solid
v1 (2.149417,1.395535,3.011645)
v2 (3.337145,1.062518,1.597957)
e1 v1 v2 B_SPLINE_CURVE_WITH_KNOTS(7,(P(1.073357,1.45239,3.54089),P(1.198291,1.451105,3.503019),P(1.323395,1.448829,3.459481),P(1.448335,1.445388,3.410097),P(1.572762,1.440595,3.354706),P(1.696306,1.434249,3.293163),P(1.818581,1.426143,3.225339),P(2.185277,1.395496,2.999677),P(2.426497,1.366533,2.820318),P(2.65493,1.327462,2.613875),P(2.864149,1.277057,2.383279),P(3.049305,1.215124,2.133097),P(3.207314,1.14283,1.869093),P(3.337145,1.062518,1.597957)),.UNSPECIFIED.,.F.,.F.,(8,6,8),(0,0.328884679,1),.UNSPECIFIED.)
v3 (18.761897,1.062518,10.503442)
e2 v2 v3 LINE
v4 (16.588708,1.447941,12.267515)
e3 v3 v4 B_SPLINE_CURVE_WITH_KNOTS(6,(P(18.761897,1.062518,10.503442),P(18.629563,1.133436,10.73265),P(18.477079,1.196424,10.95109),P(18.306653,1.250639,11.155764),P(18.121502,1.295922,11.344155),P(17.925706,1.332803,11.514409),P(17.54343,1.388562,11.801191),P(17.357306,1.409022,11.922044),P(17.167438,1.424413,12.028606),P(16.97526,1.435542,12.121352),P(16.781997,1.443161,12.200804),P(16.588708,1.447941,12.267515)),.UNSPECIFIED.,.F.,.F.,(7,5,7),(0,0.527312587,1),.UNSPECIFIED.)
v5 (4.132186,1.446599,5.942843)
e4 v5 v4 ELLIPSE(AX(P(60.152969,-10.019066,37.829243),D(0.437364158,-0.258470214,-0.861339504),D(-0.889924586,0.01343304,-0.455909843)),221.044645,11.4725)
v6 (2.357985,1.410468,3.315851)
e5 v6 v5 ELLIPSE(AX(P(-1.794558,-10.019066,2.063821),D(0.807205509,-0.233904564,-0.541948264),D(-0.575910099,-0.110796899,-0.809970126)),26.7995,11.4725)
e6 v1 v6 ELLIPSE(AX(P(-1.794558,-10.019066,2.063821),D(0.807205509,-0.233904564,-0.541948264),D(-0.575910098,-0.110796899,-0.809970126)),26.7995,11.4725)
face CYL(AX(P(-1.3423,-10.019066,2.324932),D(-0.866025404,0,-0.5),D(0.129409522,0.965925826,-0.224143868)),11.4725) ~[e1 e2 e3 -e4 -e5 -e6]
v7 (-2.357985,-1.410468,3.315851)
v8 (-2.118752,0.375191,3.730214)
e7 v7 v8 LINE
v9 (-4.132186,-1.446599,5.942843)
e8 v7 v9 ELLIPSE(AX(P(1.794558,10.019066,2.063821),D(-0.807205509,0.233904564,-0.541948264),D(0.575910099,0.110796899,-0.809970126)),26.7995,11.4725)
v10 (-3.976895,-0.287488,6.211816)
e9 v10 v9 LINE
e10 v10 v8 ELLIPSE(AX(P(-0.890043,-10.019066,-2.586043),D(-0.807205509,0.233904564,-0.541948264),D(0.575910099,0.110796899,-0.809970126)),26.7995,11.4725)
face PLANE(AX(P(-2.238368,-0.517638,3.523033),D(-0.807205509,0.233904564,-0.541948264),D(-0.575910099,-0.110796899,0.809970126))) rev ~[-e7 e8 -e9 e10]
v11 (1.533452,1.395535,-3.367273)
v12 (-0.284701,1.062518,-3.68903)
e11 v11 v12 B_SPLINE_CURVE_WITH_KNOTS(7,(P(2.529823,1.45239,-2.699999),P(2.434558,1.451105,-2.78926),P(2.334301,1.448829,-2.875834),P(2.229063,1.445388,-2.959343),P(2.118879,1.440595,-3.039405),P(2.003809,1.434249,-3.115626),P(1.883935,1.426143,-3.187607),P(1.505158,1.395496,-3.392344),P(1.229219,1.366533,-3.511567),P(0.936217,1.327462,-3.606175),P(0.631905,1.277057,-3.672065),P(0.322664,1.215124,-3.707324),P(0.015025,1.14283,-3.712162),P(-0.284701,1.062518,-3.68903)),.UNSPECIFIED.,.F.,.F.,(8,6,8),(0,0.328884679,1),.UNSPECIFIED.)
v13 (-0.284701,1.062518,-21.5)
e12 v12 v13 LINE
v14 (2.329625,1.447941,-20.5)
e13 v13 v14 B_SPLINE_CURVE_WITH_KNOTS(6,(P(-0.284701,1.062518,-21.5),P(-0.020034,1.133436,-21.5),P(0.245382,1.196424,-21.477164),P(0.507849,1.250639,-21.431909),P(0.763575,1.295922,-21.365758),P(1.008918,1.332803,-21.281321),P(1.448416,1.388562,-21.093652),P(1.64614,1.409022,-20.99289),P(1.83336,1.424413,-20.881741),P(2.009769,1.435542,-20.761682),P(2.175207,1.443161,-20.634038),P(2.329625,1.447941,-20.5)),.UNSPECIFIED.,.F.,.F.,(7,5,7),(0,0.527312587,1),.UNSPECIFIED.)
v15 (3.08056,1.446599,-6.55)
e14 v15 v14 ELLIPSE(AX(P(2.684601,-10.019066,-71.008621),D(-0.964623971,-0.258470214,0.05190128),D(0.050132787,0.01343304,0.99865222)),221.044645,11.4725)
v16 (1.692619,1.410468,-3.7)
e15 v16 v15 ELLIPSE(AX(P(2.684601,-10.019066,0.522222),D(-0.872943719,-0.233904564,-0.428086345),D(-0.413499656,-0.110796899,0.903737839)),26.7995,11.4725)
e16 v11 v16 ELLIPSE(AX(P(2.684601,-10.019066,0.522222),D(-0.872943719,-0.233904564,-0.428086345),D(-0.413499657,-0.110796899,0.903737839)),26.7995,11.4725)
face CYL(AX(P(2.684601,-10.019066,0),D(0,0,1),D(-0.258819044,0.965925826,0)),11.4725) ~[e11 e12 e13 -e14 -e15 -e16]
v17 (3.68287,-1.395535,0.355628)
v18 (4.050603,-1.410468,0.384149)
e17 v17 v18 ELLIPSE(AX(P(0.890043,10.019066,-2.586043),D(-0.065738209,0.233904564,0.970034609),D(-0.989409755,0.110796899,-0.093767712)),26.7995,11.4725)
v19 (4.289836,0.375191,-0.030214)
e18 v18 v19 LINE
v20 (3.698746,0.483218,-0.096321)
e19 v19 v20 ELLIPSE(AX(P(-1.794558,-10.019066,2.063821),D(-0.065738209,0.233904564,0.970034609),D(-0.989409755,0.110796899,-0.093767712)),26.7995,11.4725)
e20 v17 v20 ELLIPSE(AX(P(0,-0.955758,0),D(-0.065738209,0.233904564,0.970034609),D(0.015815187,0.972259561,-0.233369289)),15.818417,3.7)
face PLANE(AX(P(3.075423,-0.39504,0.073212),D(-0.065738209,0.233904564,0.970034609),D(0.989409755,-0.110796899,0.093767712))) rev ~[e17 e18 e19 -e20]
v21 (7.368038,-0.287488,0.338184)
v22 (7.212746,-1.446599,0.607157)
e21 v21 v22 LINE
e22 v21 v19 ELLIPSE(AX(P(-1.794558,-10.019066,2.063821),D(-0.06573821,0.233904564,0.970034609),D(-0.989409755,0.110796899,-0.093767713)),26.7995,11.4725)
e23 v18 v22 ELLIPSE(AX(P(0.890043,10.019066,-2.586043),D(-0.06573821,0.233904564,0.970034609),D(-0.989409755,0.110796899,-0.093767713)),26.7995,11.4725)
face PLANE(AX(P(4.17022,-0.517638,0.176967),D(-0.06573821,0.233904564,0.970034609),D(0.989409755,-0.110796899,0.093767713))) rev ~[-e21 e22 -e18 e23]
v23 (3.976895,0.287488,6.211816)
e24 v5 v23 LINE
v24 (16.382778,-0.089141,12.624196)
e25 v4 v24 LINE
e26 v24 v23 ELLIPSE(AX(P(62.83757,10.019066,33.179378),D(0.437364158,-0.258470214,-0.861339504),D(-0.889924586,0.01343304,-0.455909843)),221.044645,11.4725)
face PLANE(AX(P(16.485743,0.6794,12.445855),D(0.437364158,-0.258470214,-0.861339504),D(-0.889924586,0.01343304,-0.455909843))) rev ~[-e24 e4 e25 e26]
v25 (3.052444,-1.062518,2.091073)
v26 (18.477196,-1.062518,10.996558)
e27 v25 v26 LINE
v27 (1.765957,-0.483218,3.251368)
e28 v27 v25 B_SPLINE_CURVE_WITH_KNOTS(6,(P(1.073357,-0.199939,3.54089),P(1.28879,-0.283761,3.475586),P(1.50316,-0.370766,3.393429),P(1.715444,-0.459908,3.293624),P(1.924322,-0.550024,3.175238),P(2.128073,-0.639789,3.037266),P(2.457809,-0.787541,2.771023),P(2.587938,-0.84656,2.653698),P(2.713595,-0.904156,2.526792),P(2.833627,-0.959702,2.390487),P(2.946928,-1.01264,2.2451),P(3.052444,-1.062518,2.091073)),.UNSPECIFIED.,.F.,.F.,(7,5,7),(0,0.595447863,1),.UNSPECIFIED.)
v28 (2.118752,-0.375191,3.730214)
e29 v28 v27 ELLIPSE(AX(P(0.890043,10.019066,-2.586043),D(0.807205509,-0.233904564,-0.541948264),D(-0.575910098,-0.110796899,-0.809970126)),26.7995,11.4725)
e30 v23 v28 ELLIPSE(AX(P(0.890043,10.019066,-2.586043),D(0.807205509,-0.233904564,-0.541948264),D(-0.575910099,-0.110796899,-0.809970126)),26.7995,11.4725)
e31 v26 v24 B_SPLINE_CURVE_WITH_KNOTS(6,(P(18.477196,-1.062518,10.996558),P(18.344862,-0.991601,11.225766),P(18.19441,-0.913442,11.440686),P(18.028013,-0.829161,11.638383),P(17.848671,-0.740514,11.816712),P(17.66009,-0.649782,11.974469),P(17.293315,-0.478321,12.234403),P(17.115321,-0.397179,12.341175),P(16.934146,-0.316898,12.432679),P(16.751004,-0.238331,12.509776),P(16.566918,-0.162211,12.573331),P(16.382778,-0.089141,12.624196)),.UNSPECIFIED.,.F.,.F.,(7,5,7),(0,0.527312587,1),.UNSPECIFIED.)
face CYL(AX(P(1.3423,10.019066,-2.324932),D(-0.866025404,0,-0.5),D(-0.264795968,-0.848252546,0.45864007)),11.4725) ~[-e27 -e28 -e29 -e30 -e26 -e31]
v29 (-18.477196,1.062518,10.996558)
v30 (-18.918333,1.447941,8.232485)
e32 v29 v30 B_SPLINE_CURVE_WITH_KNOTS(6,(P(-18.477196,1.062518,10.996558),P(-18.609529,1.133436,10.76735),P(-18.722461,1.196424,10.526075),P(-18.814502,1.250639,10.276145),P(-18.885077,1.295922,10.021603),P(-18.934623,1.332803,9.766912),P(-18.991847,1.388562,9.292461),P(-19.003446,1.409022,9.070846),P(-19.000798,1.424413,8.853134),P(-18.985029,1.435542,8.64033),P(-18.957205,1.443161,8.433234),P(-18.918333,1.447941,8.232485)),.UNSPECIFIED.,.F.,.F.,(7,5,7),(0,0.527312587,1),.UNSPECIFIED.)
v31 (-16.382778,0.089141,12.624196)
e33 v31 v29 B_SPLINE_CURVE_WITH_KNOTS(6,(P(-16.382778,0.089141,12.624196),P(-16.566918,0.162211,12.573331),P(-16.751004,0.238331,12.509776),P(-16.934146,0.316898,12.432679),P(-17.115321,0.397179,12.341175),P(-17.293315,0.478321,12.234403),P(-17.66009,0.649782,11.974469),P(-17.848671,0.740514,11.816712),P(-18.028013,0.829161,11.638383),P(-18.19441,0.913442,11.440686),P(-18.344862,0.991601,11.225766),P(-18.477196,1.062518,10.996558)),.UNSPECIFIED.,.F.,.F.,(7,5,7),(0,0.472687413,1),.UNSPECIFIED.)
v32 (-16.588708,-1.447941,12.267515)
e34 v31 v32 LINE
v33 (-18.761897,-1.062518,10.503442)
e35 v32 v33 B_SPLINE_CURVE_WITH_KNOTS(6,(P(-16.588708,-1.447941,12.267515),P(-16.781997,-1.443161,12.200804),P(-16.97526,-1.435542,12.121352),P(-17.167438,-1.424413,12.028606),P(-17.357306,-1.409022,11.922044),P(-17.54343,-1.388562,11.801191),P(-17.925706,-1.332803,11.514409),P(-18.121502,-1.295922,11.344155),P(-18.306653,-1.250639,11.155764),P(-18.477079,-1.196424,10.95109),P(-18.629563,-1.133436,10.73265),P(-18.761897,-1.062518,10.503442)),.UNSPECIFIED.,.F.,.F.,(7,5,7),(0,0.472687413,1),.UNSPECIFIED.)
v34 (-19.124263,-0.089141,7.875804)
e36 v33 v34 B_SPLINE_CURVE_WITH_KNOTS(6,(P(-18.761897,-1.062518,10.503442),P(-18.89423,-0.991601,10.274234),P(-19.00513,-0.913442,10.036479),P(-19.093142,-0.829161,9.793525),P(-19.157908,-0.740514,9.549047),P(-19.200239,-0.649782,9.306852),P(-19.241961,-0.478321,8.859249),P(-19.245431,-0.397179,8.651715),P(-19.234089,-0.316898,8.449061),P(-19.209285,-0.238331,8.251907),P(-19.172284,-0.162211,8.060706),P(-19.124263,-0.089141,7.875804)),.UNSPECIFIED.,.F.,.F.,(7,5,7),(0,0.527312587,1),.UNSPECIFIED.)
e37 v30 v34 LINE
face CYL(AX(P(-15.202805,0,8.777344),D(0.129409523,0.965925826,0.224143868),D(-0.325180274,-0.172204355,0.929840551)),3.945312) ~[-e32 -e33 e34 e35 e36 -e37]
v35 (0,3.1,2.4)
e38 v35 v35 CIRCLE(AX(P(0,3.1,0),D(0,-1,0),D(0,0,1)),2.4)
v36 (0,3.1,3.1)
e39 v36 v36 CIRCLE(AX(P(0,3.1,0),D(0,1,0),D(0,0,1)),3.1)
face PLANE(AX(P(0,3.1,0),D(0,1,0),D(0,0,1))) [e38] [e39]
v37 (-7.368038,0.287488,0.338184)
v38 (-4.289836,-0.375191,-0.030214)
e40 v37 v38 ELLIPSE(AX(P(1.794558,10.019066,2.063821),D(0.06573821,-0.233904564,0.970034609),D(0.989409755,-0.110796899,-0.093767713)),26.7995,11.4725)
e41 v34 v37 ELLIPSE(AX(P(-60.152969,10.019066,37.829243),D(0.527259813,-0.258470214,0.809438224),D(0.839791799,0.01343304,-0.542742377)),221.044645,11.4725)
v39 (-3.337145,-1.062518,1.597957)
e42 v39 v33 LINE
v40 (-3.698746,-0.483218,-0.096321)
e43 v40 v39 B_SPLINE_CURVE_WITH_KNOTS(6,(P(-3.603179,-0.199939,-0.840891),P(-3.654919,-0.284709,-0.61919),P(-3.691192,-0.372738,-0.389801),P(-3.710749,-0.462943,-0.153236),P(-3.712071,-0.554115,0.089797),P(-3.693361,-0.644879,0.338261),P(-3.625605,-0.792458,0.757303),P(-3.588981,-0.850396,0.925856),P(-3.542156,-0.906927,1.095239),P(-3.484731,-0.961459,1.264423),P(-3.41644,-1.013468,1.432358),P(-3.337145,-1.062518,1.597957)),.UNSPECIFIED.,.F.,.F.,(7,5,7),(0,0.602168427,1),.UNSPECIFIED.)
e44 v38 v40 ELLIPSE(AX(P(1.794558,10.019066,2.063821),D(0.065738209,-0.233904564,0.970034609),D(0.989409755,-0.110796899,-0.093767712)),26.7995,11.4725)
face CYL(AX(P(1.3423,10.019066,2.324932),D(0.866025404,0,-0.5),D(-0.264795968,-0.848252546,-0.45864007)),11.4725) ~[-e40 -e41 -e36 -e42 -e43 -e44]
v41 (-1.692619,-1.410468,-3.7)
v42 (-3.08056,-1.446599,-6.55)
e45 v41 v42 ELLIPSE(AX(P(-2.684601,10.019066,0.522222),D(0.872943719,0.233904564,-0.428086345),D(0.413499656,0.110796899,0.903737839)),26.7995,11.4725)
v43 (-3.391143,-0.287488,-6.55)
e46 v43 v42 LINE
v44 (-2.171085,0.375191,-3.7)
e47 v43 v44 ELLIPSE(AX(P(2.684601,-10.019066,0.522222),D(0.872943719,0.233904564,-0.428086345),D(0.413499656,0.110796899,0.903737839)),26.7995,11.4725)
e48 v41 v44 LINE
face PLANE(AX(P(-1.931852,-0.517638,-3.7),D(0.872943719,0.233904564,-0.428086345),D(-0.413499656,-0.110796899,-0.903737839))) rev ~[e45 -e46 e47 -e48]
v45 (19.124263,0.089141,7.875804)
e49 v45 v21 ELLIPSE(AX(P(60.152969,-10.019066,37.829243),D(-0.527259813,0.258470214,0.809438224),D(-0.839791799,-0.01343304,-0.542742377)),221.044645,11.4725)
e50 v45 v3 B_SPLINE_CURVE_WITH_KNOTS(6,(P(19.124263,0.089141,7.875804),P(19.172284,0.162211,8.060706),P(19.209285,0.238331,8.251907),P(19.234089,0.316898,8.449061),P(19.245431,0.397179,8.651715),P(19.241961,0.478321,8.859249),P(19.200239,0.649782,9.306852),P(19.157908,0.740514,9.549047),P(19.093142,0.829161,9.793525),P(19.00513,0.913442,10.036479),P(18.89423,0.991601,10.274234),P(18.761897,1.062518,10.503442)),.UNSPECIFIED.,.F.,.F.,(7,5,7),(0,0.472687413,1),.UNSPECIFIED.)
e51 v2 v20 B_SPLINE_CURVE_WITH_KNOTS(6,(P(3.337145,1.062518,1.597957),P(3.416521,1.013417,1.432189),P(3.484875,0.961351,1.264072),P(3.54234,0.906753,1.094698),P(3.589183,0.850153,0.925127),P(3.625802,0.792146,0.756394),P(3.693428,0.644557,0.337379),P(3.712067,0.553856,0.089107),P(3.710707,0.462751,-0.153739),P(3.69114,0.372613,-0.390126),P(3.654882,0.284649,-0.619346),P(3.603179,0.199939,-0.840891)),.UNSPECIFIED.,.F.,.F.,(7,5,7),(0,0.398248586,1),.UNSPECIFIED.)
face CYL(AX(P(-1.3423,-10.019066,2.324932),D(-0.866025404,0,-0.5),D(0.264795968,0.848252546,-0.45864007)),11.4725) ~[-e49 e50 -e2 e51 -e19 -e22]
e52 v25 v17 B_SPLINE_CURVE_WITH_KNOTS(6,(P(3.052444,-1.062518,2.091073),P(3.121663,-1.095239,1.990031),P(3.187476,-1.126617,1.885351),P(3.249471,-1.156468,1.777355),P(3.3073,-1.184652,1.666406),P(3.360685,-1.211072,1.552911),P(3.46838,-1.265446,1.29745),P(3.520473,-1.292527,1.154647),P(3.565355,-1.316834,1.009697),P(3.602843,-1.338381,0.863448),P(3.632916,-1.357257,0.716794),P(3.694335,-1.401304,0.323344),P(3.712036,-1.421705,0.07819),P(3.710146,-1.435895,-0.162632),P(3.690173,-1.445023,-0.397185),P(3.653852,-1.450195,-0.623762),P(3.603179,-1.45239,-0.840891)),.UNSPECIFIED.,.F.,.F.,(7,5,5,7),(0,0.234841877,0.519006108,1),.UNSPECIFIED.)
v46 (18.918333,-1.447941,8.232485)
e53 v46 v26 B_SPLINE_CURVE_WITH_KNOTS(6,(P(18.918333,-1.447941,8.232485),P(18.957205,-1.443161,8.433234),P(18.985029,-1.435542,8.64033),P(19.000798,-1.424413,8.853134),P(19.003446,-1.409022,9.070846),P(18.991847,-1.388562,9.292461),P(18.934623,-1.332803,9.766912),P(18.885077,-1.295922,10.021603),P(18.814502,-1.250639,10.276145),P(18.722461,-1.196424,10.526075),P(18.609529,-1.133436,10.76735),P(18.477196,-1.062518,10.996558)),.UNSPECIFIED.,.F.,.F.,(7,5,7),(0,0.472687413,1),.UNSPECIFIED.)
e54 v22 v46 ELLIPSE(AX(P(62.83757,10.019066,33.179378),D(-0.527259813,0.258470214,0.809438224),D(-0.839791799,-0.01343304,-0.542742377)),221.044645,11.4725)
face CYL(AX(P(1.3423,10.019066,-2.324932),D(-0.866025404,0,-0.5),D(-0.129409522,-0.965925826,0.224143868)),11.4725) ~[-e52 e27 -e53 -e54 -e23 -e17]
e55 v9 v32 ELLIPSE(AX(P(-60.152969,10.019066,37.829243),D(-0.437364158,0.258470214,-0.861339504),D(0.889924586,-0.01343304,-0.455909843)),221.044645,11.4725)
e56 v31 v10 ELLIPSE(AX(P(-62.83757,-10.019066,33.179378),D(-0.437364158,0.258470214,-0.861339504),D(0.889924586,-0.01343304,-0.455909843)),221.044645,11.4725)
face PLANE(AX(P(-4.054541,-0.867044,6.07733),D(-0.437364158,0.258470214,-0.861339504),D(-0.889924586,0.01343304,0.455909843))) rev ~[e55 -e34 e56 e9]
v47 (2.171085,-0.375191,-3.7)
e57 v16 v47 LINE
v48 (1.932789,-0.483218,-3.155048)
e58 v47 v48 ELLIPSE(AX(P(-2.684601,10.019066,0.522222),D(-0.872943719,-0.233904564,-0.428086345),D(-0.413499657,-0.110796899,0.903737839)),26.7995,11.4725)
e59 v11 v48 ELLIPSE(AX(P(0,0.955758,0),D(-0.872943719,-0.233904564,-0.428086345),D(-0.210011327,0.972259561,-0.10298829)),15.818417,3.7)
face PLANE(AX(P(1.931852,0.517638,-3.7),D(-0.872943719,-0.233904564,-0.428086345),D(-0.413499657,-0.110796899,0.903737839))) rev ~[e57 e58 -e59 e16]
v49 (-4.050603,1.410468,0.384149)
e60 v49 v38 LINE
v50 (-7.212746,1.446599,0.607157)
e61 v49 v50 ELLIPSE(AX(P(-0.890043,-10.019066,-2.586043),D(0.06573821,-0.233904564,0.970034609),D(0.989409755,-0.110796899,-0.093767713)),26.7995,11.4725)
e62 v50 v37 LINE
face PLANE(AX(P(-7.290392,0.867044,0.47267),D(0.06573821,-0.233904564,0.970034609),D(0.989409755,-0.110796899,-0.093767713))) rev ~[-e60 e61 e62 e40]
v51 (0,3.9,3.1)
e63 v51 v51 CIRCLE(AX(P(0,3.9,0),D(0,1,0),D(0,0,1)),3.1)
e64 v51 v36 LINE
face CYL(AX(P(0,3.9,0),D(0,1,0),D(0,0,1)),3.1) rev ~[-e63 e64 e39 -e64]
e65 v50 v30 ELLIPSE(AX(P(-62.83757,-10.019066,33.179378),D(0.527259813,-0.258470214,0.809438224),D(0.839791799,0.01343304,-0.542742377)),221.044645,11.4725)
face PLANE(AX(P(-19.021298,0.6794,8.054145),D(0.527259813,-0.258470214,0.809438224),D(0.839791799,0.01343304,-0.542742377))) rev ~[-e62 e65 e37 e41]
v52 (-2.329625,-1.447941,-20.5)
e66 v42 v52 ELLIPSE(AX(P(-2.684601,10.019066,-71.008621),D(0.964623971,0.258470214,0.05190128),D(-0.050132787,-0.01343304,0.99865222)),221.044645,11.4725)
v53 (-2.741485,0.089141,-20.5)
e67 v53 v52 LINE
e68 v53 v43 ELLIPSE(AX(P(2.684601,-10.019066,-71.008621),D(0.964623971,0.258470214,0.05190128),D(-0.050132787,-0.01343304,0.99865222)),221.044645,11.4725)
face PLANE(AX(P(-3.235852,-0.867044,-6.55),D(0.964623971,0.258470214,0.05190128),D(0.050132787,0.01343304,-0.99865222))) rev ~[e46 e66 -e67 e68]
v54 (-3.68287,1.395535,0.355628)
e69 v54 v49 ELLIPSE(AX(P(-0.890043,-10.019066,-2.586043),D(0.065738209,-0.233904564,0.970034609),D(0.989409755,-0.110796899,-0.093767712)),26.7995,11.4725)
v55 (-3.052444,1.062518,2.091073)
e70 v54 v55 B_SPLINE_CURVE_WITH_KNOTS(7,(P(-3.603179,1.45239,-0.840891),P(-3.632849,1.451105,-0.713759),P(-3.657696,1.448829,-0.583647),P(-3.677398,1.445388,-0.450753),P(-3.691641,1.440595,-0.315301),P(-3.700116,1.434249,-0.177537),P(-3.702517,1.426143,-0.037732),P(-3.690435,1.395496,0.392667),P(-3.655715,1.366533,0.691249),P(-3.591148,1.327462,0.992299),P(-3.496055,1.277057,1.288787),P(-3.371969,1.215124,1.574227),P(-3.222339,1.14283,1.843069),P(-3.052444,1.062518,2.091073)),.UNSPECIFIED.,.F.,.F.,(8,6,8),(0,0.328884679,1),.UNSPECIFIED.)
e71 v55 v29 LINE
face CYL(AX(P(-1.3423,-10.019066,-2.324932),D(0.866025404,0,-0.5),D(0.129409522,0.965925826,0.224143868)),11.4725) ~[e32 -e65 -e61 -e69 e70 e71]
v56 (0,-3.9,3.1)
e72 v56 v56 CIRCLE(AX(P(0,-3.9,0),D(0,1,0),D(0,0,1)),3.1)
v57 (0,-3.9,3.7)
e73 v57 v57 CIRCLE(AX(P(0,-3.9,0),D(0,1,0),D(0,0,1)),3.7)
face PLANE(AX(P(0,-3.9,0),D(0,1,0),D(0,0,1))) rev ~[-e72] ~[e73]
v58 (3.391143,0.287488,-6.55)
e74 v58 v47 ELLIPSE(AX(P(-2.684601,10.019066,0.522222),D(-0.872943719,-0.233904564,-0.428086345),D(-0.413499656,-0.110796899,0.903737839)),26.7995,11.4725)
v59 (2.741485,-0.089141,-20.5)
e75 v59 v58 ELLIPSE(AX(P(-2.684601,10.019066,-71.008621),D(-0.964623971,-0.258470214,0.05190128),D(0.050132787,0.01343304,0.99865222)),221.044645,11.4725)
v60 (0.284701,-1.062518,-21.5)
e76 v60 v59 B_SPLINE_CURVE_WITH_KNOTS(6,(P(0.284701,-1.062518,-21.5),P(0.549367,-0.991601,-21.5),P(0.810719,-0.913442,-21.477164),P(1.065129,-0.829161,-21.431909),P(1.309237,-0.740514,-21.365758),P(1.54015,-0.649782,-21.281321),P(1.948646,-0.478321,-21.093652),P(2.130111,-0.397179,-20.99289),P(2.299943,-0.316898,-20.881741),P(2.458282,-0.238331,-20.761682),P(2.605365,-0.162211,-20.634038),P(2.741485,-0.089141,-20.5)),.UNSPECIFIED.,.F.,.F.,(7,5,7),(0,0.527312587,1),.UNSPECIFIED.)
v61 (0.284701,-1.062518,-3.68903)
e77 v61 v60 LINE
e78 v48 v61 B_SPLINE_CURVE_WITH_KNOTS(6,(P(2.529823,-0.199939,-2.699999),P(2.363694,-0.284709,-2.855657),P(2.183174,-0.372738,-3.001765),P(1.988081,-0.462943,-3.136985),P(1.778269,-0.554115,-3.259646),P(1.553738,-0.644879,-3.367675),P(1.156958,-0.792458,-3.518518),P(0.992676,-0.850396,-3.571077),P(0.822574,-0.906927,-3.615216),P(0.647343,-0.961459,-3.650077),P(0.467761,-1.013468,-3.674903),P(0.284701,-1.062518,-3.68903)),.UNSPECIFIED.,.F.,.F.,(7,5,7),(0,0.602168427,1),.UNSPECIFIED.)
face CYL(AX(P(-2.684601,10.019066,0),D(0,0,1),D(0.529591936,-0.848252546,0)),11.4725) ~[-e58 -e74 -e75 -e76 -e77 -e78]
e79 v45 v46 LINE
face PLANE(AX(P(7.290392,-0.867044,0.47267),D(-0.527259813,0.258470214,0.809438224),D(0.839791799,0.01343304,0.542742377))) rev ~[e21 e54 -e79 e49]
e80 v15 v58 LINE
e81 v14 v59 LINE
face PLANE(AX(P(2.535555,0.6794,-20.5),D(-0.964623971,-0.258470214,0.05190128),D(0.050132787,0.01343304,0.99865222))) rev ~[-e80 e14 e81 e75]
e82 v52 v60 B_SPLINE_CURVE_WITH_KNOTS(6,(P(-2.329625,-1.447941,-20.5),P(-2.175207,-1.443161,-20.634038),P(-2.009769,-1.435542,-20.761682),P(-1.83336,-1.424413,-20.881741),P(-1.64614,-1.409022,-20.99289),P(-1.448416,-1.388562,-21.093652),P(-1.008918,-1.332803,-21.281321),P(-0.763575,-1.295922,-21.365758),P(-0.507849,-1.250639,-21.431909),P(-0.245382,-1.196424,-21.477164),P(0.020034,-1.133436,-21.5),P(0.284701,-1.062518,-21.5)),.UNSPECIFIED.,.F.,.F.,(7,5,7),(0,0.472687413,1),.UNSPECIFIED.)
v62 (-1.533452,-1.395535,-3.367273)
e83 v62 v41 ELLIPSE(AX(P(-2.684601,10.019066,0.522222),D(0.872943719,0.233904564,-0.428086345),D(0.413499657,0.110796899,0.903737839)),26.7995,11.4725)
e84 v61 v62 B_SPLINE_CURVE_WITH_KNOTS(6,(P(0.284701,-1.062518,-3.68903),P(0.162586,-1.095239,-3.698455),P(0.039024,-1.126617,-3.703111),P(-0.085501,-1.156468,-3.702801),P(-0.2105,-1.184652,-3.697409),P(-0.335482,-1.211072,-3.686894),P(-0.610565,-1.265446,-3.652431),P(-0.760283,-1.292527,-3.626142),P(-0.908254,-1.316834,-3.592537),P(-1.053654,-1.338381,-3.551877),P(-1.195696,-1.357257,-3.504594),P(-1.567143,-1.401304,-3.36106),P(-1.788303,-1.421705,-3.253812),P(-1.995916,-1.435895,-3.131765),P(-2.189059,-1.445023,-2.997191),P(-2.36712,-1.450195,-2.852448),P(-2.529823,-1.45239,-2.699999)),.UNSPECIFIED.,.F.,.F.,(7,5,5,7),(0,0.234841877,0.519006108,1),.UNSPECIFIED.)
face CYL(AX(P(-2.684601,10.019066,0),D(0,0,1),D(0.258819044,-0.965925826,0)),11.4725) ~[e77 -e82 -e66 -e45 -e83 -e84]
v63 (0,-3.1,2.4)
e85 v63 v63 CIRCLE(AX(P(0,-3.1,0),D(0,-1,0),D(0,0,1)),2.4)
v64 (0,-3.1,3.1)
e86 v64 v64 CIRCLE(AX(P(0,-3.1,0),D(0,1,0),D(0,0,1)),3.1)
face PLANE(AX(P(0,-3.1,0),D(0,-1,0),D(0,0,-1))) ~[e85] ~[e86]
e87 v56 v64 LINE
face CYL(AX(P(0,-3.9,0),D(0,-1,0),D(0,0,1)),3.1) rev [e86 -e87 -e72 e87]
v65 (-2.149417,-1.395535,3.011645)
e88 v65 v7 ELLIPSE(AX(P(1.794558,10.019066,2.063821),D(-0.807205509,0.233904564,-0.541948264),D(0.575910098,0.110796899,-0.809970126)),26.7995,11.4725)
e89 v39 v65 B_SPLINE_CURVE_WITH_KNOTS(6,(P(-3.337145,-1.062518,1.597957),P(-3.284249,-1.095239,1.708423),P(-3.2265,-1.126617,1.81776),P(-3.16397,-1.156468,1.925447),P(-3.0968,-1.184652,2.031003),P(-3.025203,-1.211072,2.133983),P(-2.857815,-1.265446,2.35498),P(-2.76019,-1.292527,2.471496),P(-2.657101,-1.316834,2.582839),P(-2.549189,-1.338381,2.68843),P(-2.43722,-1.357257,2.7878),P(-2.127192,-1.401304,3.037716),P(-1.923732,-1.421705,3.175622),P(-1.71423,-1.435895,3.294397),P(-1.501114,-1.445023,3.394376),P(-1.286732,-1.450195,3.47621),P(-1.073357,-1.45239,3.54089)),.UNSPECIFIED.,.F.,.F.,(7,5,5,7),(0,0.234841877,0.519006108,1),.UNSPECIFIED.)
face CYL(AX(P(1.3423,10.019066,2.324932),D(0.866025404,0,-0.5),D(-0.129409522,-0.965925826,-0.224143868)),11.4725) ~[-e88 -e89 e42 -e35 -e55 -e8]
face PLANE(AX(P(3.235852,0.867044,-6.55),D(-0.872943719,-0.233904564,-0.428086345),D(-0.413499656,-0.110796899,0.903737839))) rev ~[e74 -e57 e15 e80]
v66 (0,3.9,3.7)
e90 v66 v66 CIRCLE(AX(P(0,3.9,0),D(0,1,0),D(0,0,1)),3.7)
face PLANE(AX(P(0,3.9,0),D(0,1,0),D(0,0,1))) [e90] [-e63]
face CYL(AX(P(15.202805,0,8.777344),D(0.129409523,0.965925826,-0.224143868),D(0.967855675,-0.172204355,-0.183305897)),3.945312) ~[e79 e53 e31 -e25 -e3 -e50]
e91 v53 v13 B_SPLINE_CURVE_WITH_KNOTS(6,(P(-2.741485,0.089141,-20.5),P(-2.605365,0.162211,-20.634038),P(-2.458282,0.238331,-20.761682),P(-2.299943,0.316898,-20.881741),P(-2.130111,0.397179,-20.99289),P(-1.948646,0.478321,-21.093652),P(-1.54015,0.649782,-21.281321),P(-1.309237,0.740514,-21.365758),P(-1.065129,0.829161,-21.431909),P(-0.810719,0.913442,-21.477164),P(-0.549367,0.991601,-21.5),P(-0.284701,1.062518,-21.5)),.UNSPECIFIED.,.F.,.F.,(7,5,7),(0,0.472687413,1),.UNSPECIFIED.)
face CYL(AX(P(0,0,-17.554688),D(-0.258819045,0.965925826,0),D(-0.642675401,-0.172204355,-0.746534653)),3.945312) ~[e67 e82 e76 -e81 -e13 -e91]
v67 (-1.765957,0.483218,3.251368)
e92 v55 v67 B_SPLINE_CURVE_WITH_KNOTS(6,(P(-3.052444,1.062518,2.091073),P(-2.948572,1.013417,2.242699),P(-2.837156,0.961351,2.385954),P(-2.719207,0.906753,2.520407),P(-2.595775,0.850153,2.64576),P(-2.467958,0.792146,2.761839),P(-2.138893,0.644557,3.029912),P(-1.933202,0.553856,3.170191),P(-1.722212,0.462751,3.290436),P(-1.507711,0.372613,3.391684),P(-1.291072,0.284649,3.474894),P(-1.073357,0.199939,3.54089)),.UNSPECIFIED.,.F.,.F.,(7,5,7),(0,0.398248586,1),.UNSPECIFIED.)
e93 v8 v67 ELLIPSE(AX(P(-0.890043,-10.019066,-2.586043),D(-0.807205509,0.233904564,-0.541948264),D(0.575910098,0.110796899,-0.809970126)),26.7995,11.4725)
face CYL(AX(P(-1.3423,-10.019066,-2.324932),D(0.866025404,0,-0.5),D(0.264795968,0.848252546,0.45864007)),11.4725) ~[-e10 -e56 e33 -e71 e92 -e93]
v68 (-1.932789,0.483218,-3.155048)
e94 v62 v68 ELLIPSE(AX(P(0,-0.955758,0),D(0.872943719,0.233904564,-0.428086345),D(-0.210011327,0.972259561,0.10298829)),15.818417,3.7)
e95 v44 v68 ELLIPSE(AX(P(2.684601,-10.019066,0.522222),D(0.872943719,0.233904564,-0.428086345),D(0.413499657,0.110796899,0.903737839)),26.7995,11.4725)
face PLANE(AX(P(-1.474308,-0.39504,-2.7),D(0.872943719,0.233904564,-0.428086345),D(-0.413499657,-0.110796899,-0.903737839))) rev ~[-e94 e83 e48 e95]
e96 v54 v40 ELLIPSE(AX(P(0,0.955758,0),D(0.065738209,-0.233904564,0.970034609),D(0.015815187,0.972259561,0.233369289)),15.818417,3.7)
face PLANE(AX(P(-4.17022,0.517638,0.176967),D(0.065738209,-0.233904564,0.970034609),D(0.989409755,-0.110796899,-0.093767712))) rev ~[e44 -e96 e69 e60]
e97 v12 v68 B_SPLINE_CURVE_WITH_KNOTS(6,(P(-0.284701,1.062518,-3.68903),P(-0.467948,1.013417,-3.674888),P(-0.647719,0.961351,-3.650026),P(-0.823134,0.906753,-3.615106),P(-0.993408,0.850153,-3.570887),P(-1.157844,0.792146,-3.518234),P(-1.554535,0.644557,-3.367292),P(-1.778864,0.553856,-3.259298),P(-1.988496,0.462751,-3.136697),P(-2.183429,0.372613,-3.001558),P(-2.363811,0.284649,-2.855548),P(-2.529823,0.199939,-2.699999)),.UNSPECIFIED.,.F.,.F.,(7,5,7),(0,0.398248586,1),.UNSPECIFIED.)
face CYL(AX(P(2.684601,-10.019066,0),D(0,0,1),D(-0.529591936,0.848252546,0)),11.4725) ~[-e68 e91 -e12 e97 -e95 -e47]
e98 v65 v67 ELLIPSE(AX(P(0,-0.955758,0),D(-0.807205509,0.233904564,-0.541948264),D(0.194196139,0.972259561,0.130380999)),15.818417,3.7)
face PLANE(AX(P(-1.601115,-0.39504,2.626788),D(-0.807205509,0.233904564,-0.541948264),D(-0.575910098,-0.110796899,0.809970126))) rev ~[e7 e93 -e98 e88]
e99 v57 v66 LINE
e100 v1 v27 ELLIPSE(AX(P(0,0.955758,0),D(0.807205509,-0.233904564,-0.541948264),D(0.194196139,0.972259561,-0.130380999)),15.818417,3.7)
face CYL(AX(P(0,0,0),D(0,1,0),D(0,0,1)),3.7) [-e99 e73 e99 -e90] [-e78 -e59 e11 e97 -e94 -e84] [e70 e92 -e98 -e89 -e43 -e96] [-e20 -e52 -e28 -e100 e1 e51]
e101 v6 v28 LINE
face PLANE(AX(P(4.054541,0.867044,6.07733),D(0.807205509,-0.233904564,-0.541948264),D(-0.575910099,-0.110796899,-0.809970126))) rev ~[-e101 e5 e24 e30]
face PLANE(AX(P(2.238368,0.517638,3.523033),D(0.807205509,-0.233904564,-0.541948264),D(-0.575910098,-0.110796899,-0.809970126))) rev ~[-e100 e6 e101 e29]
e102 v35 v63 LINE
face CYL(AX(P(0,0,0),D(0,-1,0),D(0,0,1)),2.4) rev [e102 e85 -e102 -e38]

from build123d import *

# Parameters (mm, degrees)
SKETCH1_R             = 3.7
SKETCH1_R_2           = 2.4
HUB_DEPTH             = 3.9
SKETCH2_R             = 3.1
RIM_CUT_DEPTH         = 0.8
BLADE_DEPTH           = 1.1
BLADE_CURVE_DEPTH     = 23.16190425
BODY_MOVE_COPY1_ANGLE = 15
CIRPATTERN1_COUNT     = 3


with BuildPart() as part:
    # Sketch1 → Hub (new, symmetric)
    with BuildSketch(Plane(origin=(0, 0, 0), x_dir=(1, 0, 0), z_dir=(0, 1, 0))):
        Circle(SKETCH1_R)
        Circle(SKETCH1_R_2, mode=Mode.SUBTRACT)
    extrude(amount=HUB_DEPTH, both=True)

    # Sketch2 → Rim Cut (cut)
    with BuildSketch(Plane(origin=(0, 3.9, 0), x_dir=(1, 0, 0), z_dir=(0, 1, 0))):
        Circle(SKETCH2_R)
    rim_cut = extrude(amount=-RIM_CUT_DEPTH, mode=Mode.SUBTRACT)

    # Mirror1: Rim Cut across plane
    add(rim_cut.mirror(Plane.ZX), mode=Mode.SUBTRACT)


with BuildPart() as body_2:
    # Sketch3 → Blade (new, symmetric)
    with BuildSketch(Plane(origin=(0, 0, 0), x_dir=(1, 0, 0), z_dir=(0, 1, 0))):
        with BuildLine():
            Line((-2, 3.7), (-3.35, 6.55))
            Line((-3.35, 6.55), (-2.625, 20.5))
            ThreePointArc((-2.625, 20.5), (0, 21.5), (2.625, 20.5))
            Line((2.625, 20.5), (3.35, 6.55))
            Line((3.35, 6.55), (2, 3.7))
            Line((2, 3.7), (1.526315789, 2.7))
            Line((1.526315789, 2.7), (-1.526315789, 2.7))
            Line((-1.526315789, 2.7), (-2, 3.7))
        make_face()
    extrude(amount=BLADE_DEPTH, both=True)

    # Sketch4 → Blade Curve (cut, through all)
    with BuildSketch(Plane.XY):
        with BuildLine():
            Line((3.35, 0.6), (3.35, 1.1))
            Line((3.35, 1.1), (0, 1.1))
            ThreePointArc((0, 1.1), (1.693553955, 0.974311501), (3.35, 0.6))
        make_face()
        with BuildLine():
            ThreePointArc((-3.35, 0.6), (-1.693553955, 0.974311501), (0, 1.1))
            Line((0, 1.1), (-3.35, 1.1))
            Line((-3.35, 1.1), (-3.35, 0.6))
        make_face()
        with BuildLine():
            ThreePointArc((0, -1.1), (-1.693553955, -0.974311501), (-3.35, -0.6))
            Line((-3.35, -0.6), (-3.35, -1.1))
            Line((-3.35, -1.1), (0, -1.1))
        make_face()
        with BuildLine():
            ThreePointArc((3.35, -0.6), (1.693553955, -0.974311501), (0, -1.1))
            Line((0, -1.1), (3.35, -1.1))
            Line((3.35, -1.1), (3.35, -0.6))
        make_face()
    extrude(amount=-BLADE_CURVE_DEPTH, mode=Mode.SUBTRACT)


with BuildPart() as body_2_1:
    # Body-Move/Copy1: moved
    add(body_2.part.rotate(Axis((0, 0, 0), (0, 0, 1)), BODY_MOVE_COPY1_ANGLE))


with BuildPart() as cirpattern1_1:
    # CirPattern1: pattern copy
    add(body_2_1.part.rotate(Axis((0, 3.9, 0), (0, -1, 0)), 1 * 360 / CIRPATTERN1_COUNT))


with BuildPart() as cirpattern1_2:
    # CirPattern1: pattern copy
    add(body_2_1.part.rotate(Axis((0, 3.9, 0), (0, -1, 0)), 2 * 360 / CIRPATTERN1_COUNT))

    # Combine1: union part, body 2, CirPattern1_1
    add(part.part)
    add(body_2_1.part)
    add(cirpattern1_1.part)


solid = cirpattern1_2.part
